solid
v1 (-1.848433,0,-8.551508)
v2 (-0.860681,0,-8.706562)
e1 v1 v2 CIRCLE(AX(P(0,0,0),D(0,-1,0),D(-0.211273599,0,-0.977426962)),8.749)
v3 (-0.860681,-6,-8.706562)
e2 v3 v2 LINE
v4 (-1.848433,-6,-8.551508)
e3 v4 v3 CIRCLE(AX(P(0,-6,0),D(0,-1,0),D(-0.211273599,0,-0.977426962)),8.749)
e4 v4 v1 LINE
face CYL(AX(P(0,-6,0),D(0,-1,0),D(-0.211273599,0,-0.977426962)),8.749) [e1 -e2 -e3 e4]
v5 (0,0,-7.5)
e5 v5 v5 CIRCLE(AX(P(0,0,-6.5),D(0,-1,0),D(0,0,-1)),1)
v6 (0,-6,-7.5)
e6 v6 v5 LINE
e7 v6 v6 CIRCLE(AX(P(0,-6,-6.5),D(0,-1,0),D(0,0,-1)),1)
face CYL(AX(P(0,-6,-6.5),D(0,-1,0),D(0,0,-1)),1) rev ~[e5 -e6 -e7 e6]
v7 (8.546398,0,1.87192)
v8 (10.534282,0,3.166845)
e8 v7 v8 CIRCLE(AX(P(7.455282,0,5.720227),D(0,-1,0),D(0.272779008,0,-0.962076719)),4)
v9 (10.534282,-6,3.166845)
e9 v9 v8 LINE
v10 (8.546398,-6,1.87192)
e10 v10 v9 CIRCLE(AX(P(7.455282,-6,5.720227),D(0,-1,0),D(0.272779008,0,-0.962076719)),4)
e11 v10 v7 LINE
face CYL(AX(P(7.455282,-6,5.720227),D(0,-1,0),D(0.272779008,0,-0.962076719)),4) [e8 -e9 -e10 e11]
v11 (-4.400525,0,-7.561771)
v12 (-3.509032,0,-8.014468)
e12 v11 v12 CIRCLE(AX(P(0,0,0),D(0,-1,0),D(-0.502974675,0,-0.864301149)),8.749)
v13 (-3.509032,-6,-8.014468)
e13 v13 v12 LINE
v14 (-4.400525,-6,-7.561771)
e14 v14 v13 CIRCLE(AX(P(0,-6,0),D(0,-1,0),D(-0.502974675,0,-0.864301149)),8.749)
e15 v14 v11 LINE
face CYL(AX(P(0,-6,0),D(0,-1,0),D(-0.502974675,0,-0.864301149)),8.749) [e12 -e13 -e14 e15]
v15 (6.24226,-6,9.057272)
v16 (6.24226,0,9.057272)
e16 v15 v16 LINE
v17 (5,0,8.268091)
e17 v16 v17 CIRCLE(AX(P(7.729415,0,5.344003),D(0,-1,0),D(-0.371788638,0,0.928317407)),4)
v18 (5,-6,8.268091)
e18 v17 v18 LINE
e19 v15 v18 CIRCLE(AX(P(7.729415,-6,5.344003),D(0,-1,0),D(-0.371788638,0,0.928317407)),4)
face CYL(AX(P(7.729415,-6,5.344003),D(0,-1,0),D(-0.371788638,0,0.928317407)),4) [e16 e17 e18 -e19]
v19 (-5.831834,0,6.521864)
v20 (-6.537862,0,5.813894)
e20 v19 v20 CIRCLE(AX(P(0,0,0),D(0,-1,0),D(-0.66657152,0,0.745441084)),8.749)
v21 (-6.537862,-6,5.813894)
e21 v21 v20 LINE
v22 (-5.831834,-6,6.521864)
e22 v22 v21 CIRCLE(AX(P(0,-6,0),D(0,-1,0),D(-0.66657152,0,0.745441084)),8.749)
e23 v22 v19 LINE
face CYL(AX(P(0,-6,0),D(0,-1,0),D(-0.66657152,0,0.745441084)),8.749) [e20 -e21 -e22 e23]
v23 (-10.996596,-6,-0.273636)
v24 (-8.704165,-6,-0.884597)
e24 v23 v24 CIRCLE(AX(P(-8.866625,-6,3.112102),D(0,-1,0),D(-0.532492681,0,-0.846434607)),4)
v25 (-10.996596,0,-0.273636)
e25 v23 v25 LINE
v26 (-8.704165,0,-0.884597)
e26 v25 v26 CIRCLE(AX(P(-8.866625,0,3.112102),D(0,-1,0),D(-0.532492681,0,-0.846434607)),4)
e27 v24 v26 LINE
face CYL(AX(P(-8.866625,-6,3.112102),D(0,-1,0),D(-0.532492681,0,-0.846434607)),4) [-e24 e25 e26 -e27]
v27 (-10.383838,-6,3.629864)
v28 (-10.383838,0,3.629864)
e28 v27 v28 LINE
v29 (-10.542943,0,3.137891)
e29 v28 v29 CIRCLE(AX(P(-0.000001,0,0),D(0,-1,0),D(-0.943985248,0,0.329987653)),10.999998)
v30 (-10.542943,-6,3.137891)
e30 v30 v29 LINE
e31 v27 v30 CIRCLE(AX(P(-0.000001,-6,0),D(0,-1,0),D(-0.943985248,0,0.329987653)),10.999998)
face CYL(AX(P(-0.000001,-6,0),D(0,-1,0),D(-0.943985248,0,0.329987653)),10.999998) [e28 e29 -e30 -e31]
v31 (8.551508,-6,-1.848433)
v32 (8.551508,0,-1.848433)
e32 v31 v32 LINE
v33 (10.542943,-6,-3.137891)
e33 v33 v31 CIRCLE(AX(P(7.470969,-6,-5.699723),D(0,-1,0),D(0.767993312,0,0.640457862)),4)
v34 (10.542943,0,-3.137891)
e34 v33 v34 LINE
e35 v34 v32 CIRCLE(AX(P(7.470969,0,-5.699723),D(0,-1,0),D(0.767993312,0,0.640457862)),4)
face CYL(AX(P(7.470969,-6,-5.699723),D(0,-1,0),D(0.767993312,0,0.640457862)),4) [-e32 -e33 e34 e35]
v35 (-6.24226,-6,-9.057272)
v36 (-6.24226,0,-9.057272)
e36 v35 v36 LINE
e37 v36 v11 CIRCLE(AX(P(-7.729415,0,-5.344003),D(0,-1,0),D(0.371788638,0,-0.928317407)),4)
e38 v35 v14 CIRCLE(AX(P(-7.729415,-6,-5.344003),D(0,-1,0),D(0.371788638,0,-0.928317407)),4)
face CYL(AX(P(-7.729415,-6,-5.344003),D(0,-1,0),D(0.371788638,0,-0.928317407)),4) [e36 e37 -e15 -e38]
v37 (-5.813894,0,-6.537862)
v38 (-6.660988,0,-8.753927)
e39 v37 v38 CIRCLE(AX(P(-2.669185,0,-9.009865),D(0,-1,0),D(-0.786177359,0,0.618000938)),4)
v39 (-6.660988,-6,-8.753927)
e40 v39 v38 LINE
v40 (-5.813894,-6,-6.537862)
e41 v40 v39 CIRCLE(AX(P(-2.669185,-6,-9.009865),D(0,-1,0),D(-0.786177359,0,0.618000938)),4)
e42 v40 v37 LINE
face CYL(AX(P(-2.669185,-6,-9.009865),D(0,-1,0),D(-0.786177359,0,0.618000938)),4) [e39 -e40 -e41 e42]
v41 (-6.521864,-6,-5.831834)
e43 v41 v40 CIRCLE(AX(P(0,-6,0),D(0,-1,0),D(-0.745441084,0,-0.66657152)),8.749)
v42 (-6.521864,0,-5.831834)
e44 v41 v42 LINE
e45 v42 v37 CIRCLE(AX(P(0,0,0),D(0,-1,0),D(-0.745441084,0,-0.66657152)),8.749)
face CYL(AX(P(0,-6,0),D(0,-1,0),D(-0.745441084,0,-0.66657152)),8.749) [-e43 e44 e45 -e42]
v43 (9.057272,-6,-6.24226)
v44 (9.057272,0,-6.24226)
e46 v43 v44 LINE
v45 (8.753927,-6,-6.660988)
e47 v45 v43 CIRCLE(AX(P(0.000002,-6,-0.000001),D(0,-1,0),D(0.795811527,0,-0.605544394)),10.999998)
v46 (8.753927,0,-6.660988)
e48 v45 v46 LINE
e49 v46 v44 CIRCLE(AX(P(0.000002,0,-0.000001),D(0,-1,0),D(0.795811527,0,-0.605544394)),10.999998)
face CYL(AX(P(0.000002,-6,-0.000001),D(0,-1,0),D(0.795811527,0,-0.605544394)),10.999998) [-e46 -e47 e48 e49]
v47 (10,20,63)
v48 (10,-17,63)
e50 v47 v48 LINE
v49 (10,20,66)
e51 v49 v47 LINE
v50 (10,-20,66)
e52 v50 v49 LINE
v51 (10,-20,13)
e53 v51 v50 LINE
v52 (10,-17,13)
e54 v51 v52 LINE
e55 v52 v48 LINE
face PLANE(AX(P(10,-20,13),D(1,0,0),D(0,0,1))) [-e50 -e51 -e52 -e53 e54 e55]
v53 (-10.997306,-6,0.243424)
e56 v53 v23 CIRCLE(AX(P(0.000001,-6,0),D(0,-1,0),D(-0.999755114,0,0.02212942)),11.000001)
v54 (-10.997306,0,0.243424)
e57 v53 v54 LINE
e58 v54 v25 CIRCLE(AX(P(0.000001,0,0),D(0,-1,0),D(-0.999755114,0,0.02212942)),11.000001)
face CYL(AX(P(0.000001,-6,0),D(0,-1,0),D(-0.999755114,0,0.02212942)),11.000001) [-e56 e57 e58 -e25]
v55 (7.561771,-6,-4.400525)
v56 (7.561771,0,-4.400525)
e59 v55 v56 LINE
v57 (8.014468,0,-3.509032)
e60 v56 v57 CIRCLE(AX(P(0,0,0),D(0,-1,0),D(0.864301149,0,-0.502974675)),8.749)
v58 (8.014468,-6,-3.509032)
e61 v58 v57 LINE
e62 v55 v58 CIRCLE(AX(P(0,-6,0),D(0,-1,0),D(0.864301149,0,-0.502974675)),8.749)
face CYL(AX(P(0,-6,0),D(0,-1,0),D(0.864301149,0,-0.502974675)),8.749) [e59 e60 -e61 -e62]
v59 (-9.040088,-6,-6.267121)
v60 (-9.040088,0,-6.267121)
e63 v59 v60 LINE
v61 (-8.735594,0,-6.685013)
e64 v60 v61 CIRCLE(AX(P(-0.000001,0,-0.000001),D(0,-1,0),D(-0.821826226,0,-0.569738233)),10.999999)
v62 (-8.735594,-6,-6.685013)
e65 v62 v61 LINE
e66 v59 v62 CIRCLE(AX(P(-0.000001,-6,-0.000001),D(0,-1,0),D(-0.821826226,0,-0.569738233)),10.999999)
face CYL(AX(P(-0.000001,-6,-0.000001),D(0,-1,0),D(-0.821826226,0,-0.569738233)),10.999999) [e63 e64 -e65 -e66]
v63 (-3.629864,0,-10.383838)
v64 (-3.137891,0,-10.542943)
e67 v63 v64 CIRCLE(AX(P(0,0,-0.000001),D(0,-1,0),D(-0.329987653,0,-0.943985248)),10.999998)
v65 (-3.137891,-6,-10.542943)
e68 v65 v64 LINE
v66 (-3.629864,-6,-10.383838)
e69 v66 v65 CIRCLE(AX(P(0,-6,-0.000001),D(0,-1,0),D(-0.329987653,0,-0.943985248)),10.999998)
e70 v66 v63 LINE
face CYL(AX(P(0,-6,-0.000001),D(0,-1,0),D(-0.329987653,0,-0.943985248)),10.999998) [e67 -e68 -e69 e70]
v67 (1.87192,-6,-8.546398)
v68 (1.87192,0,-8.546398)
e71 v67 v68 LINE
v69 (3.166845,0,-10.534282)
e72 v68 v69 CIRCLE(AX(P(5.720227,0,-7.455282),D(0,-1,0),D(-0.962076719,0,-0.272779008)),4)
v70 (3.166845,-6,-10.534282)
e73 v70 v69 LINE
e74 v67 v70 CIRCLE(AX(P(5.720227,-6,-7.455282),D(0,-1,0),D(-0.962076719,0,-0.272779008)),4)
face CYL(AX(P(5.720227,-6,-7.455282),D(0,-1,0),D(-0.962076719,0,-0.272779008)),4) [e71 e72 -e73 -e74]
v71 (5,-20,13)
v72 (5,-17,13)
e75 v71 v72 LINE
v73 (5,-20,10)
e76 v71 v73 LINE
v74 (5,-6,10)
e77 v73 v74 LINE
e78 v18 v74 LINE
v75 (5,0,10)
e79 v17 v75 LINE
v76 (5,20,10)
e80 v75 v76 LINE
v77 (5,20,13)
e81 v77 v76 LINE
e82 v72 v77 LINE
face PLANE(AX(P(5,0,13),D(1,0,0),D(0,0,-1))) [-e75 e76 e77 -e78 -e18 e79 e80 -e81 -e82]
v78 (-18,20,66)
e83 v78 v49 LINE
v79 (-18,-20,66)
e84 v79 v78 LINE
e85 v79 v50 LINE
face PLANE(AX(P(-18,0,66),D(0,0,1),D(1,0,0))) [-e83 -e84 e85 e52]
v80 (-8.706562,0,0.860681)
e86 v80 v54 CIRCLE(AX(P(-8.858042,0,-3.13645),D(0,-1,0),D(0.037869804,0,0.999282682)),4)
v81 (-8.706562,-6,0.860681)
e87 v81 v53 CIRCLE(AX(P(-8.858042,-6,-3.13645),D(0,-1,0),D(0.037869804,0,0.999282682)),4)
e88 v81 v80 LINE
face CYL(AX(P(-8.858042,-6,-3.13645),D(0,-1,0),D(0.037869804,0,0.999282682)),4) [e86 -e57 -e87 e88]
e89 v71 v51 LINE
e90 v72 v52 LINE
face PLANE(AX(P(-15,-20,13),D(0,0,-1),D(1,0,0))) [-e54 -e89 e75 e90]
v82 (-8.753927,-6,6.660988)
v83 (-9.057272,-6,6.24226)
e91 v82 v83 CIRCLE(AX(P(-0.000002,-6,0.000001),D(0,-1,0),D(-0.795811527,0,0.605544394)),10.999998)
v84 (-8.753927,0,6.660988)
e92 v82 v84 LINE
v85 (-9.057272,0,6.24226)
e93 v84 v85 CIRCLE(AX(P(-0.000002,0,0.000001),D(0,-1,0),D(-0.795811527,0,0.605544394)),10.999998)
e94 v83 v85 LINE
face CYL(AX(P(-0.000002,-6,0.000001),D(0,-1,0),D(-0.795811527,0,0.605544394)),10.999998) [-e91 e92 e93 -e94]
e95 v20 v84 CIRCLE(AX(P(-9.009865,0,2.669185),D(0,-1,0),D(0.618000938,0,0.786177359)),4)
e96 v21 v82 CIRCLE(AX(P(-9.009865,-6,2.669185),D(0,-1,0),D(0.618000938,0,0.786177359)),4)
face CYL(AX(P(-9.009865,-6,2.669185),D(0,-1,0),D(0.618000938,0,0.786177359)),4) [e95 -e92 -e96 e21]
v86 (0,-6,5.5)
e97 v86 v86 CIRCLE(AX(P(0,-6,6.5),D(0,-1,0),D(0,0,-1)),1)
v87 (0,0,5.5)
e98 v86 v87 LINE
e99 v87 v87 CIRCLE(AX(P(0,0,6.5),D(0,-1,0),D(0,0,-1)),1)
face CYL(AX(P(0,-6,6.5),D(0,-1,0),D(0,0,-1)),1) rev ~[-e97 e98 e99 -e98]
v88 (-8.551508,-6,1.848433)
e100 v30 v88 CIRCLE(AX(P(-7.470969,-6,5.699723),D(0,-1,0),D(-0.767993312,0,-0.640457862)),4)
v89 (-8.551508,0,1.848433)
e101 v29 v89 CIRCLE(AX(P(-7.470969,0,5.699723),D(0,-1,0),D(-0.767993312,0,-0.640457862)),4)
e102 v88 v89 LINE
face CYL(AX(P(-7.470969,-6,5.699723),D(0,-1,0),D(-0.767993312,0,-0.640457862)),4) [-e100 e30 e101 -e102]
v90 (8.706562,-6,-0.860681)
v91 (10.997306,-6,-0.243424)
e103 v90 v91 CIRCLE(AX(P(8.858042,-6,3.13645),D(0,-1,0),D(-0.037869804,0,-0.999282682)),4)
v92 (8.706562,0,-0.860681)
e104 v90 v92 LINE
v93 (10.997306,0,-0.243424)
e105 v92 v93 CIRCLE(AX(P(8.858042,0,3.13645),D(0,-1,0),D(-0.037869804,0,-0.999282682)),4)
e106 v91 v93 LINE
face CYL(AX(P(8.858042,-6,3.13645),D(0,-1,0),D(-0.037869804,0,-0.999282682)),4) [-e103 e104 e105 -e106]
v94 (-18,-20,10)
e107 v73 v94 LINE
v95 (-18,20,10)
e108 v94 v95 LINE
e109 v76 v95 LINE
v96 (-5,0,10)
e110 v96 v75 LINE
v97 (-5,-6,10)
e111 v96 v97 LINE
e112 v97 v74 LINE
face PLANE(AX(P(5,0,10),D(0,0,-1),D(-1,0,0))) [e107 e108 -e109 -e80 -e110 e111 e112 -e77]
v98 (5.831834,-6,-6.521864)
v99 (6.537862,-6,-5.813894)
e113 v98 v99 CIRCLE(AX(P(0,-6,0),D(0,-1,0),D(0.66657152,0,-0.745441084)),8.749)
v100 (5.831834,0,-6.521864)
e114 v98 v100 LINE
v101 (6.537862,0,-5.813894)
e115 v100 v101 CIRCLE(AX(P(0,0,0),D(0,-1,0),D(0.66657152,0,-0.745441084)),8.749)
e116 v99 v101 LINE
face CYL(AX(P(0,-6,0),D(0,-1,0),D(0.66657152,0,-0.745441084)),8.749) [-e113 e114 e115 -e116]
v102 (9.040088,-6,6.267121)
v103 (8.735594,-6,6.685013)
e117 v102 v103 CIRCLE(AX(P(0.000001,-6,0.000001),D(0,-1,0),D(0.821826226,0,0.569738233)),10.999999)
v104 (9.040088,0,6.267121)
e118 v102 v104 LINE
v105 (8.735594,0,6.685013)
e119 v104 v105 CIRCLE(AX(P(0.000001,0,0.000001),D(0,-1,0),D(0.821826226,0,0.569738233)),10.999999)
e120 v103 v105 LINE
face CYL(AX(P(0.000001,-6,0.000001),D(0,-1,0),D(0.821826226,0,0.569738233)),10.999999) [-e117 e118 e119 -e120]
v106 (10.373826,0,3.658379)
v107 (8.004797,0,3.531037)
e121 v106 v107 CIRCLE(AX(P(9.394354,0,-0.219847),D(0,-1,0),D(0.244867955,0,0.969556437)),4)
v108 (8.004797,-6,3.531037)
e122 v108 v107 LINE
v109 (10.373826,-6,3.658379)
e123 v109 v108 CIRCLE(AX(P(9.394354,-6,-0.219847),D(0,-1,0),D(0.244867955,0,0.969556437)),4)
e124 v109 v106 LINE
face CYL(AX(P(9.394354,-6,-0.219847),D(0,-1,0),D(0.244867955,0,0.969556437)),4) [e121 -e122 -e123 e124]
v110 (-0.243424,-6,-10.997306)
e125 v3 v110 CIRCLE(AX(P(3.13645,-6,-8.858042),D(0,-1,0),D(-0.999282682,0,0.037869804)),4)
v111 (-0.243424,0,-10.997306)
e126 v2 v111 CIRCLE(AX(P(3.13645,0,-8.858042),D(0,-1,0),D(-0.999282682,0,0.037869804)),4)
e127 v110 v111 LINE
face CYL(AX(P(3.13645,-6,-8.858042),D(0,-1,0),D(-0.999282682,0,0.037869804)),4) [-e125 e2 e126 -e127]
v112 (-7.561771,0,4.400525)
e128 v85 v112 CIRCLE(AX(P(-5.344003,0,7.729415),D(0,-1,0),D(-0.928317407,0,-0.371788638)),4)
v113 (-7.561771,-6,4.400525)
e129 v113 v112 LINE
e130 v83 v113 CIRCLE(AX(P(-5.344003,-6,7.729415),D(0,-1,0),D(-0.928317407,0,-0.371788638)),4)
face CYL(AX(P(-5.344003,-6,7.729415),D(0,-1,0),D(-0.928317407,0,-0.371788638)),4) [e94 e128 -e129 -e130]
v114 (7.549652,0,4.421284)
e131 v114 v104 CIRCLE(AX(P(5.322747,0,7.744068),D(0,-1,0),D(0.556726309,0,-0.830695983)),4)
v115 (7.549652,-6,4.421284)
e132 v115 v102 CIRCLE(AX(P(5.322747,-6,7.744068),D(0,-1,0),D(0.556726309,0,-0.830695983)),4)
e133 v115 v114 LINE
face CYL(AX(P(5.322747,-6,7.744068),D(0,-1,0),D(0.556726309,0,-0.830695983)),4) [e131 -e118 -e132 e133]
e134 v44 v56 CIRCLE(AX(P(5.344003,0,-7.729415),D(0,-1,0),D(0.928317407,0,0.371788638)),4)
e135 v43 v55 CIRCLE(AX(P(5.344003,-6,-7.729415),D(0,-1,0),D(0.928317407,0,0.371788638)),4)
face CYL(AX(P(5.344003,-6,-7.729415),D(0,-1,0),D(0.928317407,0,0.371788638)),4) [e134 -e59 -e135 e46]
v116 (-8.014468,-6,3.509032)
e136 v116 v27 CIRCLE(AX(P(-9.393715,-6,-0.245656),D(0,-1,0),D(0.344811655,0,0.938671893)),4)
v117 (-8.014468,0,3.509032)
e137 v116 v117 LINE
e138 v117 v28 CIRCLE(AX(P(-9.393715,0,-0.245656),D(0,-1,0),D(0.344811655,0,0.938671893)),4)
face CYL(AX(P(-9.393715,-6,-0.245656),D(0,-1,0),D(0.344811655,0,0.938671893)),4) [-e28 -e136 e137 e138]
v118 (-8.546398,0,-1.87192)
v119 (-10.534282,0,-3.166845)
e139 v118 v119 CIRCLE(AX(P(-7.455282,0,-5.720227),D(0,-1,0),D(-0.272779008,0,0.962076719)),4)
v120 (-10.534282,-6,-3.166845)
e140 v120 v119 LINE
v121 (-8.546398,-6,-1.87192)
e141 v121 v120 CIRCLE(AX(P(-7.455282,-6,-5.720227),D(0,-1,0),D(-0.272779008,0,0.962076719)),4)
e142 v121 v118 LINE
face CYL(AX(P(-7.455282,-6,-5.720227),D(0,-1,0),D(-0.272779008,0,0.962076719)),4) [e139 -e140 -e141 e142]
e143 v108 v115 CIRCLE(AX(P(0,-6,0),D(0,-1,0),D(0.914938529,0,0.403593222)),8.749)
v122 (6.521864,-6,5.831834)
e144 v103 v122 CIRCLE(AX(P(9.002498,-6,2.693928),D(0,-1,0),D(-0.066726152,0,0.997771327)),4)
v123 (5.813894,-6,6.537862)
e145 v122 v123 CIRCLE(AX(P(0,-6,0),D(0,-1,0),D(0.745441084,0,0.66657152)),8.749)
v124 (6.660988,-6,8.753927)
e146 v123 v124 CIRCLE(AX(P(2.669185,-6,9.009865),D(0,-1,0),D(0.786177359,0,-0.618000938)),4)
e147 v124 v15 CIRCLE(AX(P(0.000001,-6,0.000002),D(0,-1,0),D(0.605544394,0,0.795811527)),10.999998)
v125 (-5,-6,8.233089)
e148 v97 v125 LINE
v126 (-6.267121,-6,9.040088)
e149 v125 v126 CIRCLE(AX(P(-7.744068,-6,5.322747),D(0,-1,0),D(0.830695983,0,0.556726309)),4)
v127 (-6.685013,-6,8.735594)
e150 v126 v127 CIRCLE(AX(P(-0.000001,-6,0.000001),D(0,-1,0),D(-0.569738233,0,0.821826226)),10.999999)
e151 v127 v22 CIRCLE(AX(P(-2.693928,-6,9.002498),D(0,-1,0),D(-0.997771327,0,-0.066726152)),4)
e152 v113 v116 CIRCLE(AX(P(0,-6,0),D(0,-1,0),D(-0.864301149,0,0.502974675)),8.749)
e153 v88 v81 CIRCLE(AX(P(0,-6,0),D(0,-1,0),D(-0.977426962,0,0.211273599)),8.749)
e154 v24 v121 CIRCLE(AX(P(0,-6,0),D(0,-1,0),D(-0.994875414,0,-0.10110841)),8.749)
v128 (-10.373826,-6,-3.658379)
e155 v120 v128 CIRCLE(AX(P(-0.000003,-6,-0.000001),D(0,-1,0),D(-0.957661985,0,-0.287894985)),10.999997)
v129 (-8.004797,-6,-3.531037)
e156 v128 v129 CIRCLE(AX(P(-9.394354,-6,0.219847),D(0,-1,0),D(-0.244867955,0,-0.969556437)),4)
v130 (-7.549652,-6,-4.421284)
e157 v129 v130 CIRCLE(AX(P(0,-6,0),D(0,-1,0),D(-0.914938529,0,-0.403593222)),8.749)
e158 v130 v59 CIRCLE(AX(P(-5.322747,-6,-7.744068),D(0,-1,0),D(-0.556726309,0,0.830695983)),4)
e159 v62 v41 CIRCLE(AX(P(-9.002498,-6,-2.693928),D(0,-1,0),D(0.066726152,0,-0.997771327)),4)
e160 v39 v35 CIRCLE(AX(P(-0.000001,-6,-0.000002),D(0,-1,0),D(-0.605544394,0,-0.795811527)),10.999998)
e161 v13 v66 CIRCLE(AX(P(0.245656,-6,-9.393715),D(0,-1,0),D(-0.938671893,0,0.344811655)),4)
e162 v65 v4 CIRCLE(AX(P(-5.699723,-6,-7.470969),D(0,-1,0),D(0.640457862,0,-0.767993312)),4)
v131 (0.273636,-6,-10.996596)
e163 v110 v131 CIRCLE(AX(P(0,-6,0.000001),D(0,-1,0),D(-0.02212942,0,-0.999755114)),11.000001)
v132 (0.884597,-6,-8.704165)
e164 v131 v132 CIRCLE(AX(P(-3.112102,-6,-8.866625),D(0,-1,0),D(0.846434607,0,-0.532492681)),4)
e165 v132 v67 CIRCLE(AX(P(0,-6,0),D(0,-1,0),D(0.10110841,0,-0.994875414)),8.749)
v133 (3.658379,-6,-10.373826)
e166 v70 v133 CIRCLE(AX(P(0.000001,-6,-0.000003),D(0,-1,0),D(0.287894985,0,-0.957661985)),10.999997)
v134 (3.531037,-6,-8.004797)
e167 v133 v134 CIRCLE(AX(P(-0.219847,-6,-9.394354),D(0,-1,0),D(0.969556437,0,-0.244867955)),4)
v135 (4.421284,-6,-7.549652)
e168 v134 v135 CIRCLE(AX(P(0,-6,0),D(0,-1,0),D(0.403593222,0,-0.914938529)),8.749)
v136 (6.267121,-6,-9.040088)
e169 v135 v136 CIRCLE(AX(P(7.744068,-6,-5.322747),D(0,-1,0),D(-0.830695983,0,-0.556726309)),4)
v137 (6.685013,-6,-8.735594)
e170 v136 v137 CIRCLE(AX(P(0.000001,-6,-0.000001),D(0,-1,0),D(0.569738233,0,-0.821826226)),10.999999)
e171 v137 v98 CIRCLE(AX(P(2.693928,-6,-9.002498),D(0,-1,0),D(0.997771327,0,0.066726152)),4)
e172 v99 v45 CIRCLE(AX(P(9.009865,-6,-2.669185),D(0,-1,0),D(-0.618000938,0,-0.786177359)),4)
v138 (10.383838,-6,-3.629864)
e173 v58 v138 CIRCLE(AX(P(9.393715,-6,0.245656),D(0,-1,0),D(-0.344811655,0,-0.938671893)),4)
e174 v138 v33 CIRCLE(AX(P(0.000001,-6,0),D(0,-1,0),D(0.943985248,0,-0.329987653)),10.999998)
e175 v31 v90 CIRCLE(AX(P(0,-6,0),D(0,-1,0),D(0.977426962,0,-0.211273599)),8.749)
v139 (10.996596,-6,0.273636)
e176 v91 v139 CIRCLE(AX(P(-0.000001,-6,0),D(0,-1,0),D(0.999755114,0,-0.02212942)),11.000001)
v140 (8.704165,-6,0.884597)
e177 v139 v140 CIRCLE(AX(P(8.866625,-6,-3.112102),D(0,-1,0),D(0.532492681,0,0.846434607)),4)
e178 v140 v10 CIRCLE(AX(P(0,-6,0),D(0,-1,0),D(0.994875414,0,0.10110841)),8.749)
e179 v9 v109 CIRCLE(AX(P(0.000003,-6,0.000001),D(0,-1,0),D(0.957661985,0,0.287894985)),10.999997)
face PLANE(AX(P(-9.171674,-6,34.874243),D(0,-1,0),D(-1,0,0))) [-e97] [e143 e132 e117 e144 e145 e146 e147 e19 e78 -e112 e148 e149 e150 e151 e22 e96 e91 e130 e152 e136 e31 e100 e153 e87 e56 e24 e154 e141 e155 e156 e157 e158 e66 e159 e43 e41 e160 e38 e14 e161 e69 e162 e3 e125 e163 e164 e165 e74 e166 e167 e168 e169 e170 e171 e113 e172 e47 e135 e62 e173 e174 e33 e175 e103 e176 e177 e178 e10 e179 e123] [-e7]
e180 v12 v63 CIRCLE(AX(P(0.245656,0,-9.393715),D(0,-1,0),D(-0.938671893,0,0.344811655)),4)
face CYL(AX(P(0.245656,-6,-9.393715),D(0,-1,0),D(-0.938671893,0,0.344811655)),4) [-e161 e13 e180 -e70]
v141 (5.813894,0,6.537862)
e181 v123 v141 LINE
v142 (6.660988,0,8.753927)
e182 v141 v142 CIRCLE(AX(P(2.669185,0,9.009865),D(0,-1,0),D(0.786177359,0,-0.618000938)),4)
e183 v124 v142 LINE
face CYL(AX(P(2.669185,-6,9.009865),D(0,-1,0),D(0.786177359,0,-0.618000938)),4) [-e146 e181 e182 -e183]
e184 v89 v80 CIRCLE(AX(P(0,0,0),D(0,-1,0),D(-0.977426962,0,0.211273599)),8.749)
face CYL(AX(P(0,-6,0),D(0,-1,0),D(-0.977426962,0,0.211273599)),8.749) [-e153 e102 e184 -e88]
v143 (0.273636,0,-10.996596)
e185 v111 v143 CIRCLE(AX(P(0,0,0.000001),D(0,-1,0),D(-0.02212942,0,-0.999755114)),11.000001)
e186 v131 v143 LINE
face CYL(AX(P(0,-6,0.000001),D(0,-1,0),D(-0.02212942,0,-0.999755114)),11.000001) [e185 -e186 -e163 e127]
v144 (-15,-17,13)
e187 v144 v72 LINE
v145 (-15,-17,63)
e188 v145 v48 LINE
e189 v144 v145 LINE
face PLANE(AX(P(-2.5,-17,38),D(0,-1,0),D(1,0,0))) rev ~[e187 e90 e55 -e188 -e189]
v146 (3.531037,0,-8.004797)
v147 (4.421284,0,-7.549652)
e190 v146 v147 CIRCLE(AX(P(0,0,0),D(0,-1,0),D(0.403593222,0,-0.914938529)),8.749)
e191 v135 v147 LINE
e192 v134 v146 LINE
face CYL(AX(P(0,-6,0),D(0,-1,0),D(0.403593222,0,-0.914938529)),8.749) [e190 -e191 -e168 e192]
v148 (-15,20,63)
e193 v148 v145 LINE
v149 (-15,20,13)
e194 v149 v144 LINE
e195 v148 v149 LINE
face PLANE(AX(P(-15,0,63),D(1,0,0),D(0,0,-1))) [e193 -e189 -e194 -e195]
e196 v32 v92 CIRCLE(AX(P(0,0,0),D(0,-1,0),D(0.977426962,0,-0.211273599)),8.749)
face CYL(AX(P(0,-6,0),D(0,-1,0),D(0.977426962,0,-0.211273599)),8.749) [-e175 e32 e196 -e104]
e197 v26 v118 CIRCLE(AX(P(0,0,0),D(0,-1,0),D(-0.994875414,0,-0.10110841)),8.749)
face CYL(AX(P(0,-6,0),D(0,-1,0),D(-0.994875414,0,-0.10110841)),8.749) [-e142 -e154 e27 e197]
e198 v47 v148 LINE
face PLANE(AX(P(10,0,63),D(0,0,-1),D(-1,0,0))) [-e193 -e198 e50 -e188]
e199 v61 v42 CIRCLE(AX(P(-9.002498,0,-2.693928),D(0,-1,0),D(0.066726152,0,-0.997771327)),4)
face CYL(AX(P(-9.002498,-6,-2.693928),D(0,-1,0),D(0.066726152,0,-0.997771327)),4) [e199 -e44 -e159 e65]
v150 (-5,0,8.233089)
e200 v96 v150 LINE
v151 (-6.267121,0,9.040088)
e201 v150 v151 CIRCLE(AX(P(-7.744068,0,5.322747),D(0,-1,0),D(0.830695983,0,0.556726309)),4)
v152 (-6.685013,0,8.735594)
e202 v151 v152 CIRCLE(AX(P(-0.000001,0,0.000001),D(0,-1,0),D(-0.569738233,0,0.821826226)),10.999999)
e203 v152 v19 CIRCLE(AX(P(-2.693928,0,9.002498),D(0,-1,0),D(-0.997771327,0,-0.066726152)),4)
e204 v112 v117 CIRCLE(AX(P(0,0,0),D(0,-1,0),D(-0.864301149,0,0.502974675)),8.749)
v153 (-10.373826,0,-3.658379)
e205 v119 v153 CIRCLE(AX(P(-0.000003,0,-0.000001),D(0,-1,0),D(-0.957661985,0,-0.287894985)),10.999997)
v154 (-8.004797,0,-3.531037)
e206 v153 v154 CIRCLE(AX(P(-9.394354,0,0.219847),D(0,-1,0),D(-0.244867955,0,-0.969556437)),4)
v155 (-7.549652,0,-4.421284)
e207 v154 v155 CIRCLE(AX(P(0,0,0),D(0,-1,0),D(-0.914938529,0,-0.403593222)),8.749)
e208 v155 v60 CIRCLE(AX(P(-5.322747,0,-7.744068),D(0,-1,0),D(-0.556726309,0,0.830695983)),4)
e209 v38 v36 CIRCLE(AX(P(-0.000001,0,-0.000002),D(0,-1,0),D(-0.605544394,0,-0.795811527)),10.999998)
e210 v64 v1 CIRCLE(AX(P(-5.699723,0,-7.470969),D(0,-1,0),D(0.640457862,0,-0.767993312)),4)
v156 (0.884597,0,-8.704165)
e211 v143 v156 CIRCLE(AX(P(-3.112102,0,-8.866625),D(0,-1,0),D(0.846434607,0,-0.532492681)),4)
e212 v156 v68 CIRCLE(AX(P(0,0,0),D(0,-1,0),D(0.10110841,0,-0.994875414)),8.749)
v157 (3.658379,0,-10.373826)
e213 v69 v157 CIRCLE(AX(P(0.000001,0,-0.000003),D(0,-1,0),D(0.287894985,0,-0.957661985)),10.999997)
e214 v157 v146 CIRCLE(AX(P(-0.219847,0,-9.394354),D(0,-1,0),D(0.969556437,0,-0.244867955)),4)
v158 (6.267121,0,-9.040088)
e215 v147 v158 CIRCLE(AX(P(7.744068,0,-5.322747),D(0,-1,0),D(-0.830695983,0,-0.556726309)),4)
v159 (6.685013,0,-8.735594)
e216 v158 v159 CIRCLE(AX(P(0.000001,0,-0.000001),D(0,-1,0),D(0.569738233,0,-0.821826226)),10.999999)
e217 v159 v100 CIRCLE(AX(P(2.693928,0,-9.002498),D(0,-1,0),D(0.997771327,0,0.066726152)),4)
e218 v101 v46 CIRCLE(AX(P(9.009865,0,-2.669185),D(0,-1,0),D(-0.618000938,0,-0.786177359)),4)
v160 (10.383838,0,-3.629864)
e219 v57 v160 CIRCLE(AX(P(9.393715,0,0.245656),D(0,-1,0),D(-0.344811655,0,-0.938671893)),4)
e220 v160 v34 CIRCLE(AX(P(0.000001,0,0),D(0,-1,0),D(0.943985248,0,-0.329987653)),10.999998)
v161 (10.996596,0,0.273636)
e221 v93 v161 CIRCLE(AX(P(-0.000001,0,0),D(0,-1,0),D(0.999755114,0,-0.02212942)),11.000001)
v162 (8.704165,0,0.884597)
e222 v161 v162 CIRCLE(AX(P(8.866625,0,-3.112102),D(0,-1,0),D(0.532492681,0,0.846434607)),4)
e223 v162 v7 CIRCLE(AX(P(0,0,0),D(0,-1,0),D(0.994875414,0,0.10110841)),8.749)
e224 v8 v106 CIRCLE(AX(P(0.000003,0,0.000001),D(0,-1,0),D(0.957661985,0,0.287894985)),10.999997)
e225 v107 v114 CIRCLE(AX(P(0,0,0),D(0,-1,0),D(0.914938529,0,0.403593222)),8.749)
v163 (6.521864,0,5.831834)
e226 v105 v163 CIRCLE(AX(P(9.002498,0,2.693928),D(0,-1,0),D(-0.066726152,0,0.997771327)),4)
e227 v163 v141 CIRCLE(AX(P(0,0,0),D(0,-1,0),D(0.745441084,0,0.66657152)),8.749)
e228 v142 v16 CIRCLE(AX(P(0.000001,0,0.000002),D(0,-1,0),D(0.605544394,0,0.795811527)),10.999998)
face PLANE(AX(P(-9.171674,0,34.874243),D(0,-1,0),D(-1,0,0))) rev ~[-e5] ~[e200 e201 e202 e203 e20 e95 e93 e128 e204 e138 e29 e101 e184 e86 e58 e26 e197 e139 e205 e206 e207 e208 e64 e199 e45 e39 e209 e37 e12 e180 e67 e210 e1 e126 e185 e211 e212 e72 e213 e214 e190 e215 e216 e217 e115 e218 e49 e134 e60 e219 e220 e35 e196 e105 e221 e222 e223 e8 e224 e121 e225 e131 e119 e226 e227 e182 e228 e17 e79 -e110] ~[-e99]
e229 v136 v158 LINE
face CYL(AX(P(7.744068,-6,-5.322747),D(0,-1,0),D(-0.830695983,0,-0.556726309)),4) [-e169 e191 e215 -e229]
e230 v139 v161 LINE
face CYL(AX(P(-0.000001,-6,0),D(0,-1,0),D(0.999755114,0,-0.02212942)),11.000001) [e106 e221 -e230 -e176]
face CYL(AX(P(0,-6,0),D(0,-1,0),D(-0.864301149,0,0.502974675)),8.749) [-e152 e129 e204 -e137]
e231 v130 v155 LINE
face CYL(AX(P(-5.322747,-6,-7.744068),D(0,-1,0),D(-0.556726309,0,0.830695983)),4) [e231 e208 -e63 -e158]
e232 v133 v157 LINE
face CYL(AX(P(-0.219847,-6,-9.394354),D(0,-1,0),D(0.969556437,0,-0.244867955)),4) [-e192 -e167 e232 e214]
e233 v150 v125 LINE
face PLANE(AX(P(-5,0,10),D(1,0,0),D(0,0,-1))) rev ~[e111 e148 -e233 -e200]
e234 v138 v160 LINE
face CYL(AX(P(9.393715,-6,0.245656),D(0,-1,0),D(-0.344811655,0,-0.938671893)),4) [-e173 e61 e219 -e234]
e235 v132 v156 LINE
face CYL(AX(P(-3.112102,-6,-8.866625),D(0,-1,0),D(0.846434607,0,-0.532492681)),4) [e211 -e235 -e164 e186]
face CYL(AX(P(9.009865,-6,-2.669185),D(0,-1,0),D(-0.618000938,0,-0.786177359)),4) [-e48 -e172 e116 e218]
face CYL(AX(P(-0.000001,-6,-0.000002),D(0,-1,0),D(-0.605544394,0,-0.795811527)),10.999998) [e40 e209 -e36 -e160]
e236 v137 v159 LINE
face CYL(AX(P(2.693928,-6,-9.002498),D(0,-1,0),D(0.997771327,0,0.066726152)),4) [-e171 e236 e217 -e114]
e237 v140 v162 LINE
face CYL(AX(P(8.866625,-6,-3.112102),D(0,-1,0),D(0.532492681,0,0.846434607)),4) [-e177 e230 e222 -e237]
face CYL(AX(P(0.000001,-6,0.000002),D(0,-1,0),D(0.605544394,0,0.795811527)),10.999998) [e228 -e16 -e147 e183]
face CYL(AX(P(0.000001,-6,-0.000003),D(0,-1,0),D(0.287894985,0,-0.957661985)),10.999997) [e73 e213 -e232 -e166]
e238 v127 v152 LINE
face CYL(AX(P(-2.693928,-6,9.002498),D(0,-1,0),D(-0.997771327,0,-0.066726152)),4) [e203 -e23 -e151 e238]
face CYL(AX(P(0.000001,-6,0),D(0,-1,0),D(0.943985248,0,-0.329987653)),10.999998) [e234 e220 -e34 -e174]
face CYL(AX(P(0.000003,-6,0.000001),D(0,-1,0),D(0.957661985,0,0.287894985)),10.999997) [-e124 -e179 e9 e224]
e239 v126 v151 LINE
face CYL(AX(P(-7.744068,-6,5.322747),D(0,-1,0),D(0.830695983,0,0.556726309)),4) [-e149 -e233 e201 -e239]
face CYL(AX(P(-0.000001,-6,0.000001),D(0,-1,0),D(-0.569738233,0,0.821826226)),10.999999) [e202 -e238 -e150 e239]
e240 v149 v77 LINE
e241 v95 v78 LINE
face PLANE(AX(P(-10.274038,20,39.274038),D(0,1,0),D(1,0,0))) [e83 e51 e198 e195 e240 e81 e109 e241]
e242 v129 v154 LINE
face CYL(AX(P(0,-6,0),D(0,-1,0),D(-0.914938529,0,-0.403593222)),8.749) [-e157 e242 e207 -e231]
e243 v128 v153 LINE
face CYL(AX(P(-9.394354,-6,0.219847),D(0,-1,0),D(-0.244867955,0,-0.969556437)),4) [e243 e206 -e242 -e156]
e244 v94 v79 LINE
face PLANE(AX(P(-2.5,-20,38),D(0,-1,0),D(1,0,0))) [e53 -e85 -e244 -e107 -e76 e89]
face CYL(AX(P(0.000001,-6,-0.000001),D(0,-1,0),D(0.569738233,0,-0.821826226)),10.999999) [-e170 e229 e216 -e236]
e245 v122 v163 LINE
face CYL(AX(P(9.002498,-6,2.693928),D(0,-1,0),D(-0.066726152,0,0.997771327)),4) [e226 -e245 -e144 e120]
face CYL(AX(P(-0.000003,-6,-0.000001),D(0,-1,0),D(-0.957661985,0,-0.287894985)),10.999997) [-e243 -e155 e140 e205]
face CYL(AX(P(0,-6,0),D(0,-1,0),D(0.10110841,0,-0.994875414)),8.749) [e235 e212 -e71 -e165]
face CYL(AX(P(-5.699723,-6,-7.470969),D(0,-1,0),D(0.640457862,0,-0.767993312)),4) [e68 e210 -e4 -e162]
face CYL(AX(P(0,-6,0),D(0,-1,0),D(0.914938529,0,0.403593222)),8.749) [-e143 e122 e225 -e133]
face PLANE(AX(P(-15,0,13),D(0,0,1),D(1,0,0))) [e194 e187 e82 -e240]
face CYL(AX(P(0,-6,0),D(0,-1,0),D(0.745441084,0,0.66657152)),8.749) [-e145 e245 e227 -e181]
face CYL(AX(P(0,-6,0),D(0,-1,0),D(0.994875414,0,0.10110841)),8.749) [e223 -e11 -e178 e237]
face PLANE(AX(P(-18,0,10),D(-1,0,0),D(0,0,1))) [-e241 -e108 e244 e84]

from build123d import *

# Parameters (mm, degrees)
EXTRUDE_1_DEPTH     = 6
EXTRUDE_2_DEPTH     = 20
SKETCH_3_W          = 25
SKETCH_3_H          = 50
EXTRUDE_3_DEPTH     = 3
EXTRUDE_4_DEPTH     = 6
SKETCH_5_R          = 1
CUT_EXTRUDE_1_DEPTH = 74.184697854


with BuildPart() as part:
    # 草图1 → 凸台-拉伸1 (new body)
    with BuildSketch(Plane(origin=(0, 0, 0), x_dir=(1, 0, 0), z_dir=(0, 1, 0))):
        with BuildLine():
            Line((5, 0), (5, -13))
            Line((5, -13), (-15, -13))
            Line((-15, -13), (-15, -63))
            Line((-15, -63), (10, -63))
            Line((10, -63), (10, -66))
            Line((10, -66), (-18, -66))
            Line((-18, -66), (-18, -10))
            Line((-18, -10), (-5, -10))
            Line((-5, -10), (-5, 0))
            ThreePointArc((-5, 0), (0, 5), (5, 0))
        make_face()
    extrude(amount=-EXTRUDE_1_DEPTH)

    # 草图2 → 凸台-拉伸2 (add, symmetric)
    with BuildSketch(Plane(origin=(0, 0, 0), x_dir=(1, 0, 0), z_dir=(0, 1, 0))):
        Polygon((-15, -13), (5, -13), (5, -10), (-18, -10), (-18, -66), (10, -66), (10, -63), (-15, -63), align=None)
    extrude(amount=EXTRUDE_2_DEPTH, both=True)

    # 草图3 → 凸台-拉伸3 (add)
    with BuildSketch(Plane.XZ.offset(20)):
        with Locations((-2.5, 38)):
            Rectangle(SKETCH_3_W, SKETCH_3_H)
    extrude(amount=-EXTRUDE_3_DEPTH)

    # 草图4 → 凸台-拉伸4 (add)
    with BuildSketch(Plane.XZ.offset(6)):
        with BuildLine():
            ThreePointArc((0.860680542, 8.706562468), (0.72579344, 9.898750182), (0.24342364, 10.997306258))
            ThreePointArc((0.24342364, 10.997306258), (-0.01511058, 10.999989621), (-0.273636452, 10.996595977))
            ThreePointArc((-0.273636452, 10.996595977), (-0.752986286, 9.896718796), (-0.884597491, 8.704164996))
            ThreePointArc((-0.884597491, 8.704164996), (-1.380514283, 8.639397046), (-1.871919927, 8.546397884))
            ThreePointArc((-1.871919927, 8.546397884), (-2.368611449, 9.638553371), (-3.166844887, 10.53428182))
            ThreePointArc((-3.166844887, 10.53428182), (-3.413554747, 10.456942383), (-3.658378768, 10.373825947))
            ThreePointArc((-3.658378768, 10.373825947), (-3.77438681, 9.179653342), (-3.531037114, 8.00479718))
            ThreePointArc((-3.531037114, 8.00479718), (-3.982667613, 7.789952483), (-4.421283831, 7.549652329))
            ThreePointArc((-4.421283831, 7.549652329), (-5.231160146, 8.434867801), (-6.267120572, 9.040088481))
            ThreePointArc((-6.267120572, 9.040088481), (-6.477856391, 8.890296766), (-6.685013481, 8.735593555))
            ThreePointArc((-6.685013481, 8.735593555), (-6.426324056, 7.564019461), (-5.831834222, 6.521864044))
            ThreePointArc((-5.831834222, 6.521864044), (-6.194969688, 6.177973095), (-6.537861669, 5.813894202))
            ThreePointArc((-6.537861669, 5.813894202), (-7.58164644, 6.405518601), (-8.753926829, 6.660988295))
            ThreePointArc((-8.753926829, 6.660988295), (-8.908060318, 6.453406959), (-9.057272497, 6.242260401))
            ThreePointArc((-9.057272497, 6.242260401), (-8.449207929, 5.207966653), (-7.561770763, 4.400525414))
            ThreePointArc((-7.561770763, 4.400525414), (-7.800864967, 3.961250657), (-8.014468055, 3.509031603))
            ThreePointArc((-8.014468055, 3.509031603), (-9.189988356, 3.74915261), (-10.383837737, 3.629864165))
            ThreePointArc((-10.383837737, 3.629864165), (-10.466281235, 3.384812715), (-10.542942575, 3.137891306))
            ThreePointArc((-10.542942575, 3.137891306), (-9.64502446, 2.342121783), (-8.551508496, 1.848432697))
            ThreePointArc((-8.551508496, 1.848432697), (-8.643157232, 1.356773404), (-8.706562468, 0.860680542))
            ThreePointArc((-8.706562468, 0.860680542), (-9.898750182, 0.72579344), (-10.997306258, 0.24342364))
            ThreePointArc((-10.997306258, 0.24342364), (-10.999989621, -0.01511058), (-10.996595977, -0.273636452))
            ThreePointArc((-10.996595977, -0.273636452), (-9.896718796, -0.752986286), (-8.704164996, -0.884597491))
            ThreePointArc((-8.704164996, -0.884597491), (-8.639397046, -1.380514283), (-8.546397884, -1.871919927))
            ThreePointArc((-8.546397884, -1.871919927), (-9.638553371, -2.368611449), (-10.53428182, -3.166844887))
            ThreePointArc((-10.53428182, -3.166844887), (-10.456942383, -3.413554747), (-10.373825947, -3.658378768))
            ThreePointArc((-10.373825947, -3.658378768), (-9.179653342, -3.77438681), (-8.00479718, -3.531037114))
            ThreePointArc((-8.00479718, -3.531037114), (-7.789952483, -3.982667613), (-7.549652329, -4.421283831))
            ThreePointArc((-7.549652329, -4.421283831), (-8.434867801, -5.231160146), (-9.040088481, -6.267120572))
            ThreePointArc((-9.040088481, -6.267120572), (-8.890296766, -6.477856391), (-8.735593555, -6.685013481))
            ThreePointArc((-8.735593555, -6.685013481), (-7.564019461, -6.426324056), (-6.521864044, -5.831834222))
            ThreePointArc((-6.521864044, -5.831834222), (-6.177973095, -6.194969688), (-5.813894202, -6.537861669))
            ThreePointArc((-5.813894202, -6.537861669), (-6.405518601, -7.58164644), (-6.660988295, -8.753926829))
            ThreePointArc((-6.660988295, -8.753926829), (-6.453406959, -8.908060318), (-6.242260401, -9.057272497))
            ThreePointArc((-6.242260401, -9.057272497), (-5.207966653, -8.449207929), (-4.400525414, -7.561770763))
            ThreePointArc((-4.400525414, -7.561770763), (-3.961250657, -7.800864967), (-3.509031603, -8.014468055))
            ThreePointArc((-3.509031603, -8.014468055), (-3.74915261, -9.189988356), (-3.629864165, -10.383837737))
            ThreePointArc((-3.629864165, -10.383837737), (-3.384812715, -10.466281235), (-3.137891306, -10.542942575))
            ThreePointArc((-3.137891306, -10.542942575), (-2.342121783, -9.64502446), (-1.848432697, -8.551508496))
            ThreePointArc((-1.848432697, -8.551508496), (-1.356773404, -8.643157232), (-0.860680542, -8.706562468))
            ThreePointArc((-0.860680542, -8.706562468), (-0.72579344, -9.898750182), (-0.24342364, -10.997306258))
            ThreePointArc((-0.24342364, -10.997306258), (0.01511058, -10.999989621), (0.273636452, -10.996595977))
            ThreePointArc((0.273636452, -10.996595977), (0.752986286, -9.896718796), (0.884597491, -8.704164996))
            ThreePointArc((0.884597491, -8.704164996), (1.380514283, -8.639397046), (1.871919927, -8.546397884))
            ThreePointArc((1.871919927, -8.546397884), (2.368611449, -9.638553371), (3.166844887, -10.53428182))
            ThreePointArc((3.166844887, -10.53428182), (3.413554747, -10.456942383), (3.658378768, -10.373825947))
            ThreePointArc((3.658378768, -10.373825947), (3.77438681, -9.179653342), (3.531037114, -8.00479718))
            ThreePointArc((3.531037114, -8.00479718), (3.982667613, -7.789952483), (4.421283831, -7.549652329))
            ThreePointArc((4.421283831, -7.549652329), (5.231160146, -8.434867801), (6.267120572, -9.040088481))
            ThreePointArc((6.267120572, -9.040088481), (6.477856391, -8.890296766), (6.685013481, -8.735593555))
            ThreePointArc((6.685013481, -8.735593555), (6.426324056, -7.564019461), (5.831834222, -6.521864044))
            ThreePointArc((5.831834222, -6.521864044), (6.194969688, -6.177973095), (6.537861669, -5.813894202))
            ThreePointArc((6.537861669, -5.813894202), (7.58164644, -6.405518601), (8.753926829, -6.660988295))
            ThreePointArc((8.753926829, -6.660988295), (8.908060318, -6.453406959), (9.057272497, -6.242260401))
            ThreePointArc((9.057272497, -6.242260401), (8.449207929, -5.207966653), (7.561770763, -4.400525414))
            ThreePointArc((7.561770763, -4.400525414), (7.800864967, -3.961250657), (8.014468055, -3.509031603))
            ThreePointArc((8.014468055, -3.509031603), (9.189988356, -3.74915261), (10.383837737, -3.629864165))
            ThreePointArc((10.383837737, -3.629864165), (10.466281235, -3.384812715), (10.542942575, -3.137891306))
            ThreePointArc((10.542942575, -3.137891306), (9.64502446, -2.342121783), (8.551508496, -1.848432697))
            ThreePointArc((8.551508496, -1.848432697), (8.643157232, -1.356773404), (8.706562468, -0.860680542))
            ThreePointArc((8.706562468, -0.860680542), (9.898750182, -0.72579344), (10.997306258, -0.24342364))
            ThreePointArc((10.997306258, -0.24342364), (10.999989621, 0.01511058), (10.996595977, 0.273636452))
            ThreePointArc((10.996595977, 0.273636452), (9.896718796, 0.752986286), (8.704164996, 0.884597491))
            ThreePointArc((8.704164996, 0.884597491), (8.639397046, 1.380514283), (8.546397884, 1.871919927))
            ThreePointArc((8.546397884, 1.871919927), (9.638553371, 2.368611449), (10.53428182, 3.166844887))
            ThreePointArc((10.53428182, 3.166844887), (10.456942383, 3.413554747), (10.373825947, 3.658378768))
            ThreePointArc((10.373825947, 3.658378768), (9.179653342, 3.77438681), (8.00479718, 3.531037114))
            ThreePointArc((8.00479718, 3.531037114), (7.789952483, 3.982667613), (7.549652329, 4.421283831))
            ThreePointArc((7.549652329, 4.421283831), (8.434867801, 5.231160146), (9.040088481, 6.267120572))
            ThreePointArc((9.040088481, 6.267120572), (8.890296766, 6.477856391), (8.735593555, 6.685013481))
            ThreePointArc((8.735593555, 6.685013481), (7.564019461, 6.426324056), (6.521864044, 5.831834222))
            ThreePointArc((6.521864044, 5.831834222), (6.177973095, 6.194969688), (5.813894202, 6.537861669))
            ThreePointArc((5.813894202, 6.537861669), (6.405518601, 7.58164644), (6.660988295, 8.753926829))
            ThreePointArc((6.660988295, 8.753926829), (6.453406959, 8.908060318), (6.242260401, 9.057272497))
            ThreePointArc((6.242260401, 9.057272497), (5.207966653, 8.449207929), (4.400525414, 7.561770763))
            ThreePointArc((4.400525414, 7.561770763), (3.961250657, 7.800864967), (3.509031603, 8.014468055))
            ThreePointArc((3.509031603, 8.014468055), (3.74915261, 9.189988356), (3.629864165, 10.383837737))
            ThreePointArc((3.629864165, 10.383837737), (3.384812715, 10.466281235), (3.137891306, 10.542942575))
            ThreePointArc((3.137891306, 10.542942575), (2.342121783, 9.64502446), (1.848432697, 8.551508496))
            ThreePointArc((1.848432697, 8.551508496), (1.356773404, 8.643157232), (0.860680542, 8.706562468))
        make_face()
    extrude(amount=-EXTRUDE_4_DEPTH)

    # 草图5 → 切除-拉伸1 (cut, through all)
    with BuildSketch(Plane.XZ.offset(6)):
        with Locations(Location((0, 6.5, 0), (0, 0, 270))):
            Circle(SKETCH_5_R)
        with Locations(Location((0, -6.5, 0), (0, 0, 270))):
            Circle(SKETCH_5_R)
    extrude(amount=-CUT_EXTRUDE_1_DEPTH, mode=Mode.SUBTRACT)


solid = part.part
